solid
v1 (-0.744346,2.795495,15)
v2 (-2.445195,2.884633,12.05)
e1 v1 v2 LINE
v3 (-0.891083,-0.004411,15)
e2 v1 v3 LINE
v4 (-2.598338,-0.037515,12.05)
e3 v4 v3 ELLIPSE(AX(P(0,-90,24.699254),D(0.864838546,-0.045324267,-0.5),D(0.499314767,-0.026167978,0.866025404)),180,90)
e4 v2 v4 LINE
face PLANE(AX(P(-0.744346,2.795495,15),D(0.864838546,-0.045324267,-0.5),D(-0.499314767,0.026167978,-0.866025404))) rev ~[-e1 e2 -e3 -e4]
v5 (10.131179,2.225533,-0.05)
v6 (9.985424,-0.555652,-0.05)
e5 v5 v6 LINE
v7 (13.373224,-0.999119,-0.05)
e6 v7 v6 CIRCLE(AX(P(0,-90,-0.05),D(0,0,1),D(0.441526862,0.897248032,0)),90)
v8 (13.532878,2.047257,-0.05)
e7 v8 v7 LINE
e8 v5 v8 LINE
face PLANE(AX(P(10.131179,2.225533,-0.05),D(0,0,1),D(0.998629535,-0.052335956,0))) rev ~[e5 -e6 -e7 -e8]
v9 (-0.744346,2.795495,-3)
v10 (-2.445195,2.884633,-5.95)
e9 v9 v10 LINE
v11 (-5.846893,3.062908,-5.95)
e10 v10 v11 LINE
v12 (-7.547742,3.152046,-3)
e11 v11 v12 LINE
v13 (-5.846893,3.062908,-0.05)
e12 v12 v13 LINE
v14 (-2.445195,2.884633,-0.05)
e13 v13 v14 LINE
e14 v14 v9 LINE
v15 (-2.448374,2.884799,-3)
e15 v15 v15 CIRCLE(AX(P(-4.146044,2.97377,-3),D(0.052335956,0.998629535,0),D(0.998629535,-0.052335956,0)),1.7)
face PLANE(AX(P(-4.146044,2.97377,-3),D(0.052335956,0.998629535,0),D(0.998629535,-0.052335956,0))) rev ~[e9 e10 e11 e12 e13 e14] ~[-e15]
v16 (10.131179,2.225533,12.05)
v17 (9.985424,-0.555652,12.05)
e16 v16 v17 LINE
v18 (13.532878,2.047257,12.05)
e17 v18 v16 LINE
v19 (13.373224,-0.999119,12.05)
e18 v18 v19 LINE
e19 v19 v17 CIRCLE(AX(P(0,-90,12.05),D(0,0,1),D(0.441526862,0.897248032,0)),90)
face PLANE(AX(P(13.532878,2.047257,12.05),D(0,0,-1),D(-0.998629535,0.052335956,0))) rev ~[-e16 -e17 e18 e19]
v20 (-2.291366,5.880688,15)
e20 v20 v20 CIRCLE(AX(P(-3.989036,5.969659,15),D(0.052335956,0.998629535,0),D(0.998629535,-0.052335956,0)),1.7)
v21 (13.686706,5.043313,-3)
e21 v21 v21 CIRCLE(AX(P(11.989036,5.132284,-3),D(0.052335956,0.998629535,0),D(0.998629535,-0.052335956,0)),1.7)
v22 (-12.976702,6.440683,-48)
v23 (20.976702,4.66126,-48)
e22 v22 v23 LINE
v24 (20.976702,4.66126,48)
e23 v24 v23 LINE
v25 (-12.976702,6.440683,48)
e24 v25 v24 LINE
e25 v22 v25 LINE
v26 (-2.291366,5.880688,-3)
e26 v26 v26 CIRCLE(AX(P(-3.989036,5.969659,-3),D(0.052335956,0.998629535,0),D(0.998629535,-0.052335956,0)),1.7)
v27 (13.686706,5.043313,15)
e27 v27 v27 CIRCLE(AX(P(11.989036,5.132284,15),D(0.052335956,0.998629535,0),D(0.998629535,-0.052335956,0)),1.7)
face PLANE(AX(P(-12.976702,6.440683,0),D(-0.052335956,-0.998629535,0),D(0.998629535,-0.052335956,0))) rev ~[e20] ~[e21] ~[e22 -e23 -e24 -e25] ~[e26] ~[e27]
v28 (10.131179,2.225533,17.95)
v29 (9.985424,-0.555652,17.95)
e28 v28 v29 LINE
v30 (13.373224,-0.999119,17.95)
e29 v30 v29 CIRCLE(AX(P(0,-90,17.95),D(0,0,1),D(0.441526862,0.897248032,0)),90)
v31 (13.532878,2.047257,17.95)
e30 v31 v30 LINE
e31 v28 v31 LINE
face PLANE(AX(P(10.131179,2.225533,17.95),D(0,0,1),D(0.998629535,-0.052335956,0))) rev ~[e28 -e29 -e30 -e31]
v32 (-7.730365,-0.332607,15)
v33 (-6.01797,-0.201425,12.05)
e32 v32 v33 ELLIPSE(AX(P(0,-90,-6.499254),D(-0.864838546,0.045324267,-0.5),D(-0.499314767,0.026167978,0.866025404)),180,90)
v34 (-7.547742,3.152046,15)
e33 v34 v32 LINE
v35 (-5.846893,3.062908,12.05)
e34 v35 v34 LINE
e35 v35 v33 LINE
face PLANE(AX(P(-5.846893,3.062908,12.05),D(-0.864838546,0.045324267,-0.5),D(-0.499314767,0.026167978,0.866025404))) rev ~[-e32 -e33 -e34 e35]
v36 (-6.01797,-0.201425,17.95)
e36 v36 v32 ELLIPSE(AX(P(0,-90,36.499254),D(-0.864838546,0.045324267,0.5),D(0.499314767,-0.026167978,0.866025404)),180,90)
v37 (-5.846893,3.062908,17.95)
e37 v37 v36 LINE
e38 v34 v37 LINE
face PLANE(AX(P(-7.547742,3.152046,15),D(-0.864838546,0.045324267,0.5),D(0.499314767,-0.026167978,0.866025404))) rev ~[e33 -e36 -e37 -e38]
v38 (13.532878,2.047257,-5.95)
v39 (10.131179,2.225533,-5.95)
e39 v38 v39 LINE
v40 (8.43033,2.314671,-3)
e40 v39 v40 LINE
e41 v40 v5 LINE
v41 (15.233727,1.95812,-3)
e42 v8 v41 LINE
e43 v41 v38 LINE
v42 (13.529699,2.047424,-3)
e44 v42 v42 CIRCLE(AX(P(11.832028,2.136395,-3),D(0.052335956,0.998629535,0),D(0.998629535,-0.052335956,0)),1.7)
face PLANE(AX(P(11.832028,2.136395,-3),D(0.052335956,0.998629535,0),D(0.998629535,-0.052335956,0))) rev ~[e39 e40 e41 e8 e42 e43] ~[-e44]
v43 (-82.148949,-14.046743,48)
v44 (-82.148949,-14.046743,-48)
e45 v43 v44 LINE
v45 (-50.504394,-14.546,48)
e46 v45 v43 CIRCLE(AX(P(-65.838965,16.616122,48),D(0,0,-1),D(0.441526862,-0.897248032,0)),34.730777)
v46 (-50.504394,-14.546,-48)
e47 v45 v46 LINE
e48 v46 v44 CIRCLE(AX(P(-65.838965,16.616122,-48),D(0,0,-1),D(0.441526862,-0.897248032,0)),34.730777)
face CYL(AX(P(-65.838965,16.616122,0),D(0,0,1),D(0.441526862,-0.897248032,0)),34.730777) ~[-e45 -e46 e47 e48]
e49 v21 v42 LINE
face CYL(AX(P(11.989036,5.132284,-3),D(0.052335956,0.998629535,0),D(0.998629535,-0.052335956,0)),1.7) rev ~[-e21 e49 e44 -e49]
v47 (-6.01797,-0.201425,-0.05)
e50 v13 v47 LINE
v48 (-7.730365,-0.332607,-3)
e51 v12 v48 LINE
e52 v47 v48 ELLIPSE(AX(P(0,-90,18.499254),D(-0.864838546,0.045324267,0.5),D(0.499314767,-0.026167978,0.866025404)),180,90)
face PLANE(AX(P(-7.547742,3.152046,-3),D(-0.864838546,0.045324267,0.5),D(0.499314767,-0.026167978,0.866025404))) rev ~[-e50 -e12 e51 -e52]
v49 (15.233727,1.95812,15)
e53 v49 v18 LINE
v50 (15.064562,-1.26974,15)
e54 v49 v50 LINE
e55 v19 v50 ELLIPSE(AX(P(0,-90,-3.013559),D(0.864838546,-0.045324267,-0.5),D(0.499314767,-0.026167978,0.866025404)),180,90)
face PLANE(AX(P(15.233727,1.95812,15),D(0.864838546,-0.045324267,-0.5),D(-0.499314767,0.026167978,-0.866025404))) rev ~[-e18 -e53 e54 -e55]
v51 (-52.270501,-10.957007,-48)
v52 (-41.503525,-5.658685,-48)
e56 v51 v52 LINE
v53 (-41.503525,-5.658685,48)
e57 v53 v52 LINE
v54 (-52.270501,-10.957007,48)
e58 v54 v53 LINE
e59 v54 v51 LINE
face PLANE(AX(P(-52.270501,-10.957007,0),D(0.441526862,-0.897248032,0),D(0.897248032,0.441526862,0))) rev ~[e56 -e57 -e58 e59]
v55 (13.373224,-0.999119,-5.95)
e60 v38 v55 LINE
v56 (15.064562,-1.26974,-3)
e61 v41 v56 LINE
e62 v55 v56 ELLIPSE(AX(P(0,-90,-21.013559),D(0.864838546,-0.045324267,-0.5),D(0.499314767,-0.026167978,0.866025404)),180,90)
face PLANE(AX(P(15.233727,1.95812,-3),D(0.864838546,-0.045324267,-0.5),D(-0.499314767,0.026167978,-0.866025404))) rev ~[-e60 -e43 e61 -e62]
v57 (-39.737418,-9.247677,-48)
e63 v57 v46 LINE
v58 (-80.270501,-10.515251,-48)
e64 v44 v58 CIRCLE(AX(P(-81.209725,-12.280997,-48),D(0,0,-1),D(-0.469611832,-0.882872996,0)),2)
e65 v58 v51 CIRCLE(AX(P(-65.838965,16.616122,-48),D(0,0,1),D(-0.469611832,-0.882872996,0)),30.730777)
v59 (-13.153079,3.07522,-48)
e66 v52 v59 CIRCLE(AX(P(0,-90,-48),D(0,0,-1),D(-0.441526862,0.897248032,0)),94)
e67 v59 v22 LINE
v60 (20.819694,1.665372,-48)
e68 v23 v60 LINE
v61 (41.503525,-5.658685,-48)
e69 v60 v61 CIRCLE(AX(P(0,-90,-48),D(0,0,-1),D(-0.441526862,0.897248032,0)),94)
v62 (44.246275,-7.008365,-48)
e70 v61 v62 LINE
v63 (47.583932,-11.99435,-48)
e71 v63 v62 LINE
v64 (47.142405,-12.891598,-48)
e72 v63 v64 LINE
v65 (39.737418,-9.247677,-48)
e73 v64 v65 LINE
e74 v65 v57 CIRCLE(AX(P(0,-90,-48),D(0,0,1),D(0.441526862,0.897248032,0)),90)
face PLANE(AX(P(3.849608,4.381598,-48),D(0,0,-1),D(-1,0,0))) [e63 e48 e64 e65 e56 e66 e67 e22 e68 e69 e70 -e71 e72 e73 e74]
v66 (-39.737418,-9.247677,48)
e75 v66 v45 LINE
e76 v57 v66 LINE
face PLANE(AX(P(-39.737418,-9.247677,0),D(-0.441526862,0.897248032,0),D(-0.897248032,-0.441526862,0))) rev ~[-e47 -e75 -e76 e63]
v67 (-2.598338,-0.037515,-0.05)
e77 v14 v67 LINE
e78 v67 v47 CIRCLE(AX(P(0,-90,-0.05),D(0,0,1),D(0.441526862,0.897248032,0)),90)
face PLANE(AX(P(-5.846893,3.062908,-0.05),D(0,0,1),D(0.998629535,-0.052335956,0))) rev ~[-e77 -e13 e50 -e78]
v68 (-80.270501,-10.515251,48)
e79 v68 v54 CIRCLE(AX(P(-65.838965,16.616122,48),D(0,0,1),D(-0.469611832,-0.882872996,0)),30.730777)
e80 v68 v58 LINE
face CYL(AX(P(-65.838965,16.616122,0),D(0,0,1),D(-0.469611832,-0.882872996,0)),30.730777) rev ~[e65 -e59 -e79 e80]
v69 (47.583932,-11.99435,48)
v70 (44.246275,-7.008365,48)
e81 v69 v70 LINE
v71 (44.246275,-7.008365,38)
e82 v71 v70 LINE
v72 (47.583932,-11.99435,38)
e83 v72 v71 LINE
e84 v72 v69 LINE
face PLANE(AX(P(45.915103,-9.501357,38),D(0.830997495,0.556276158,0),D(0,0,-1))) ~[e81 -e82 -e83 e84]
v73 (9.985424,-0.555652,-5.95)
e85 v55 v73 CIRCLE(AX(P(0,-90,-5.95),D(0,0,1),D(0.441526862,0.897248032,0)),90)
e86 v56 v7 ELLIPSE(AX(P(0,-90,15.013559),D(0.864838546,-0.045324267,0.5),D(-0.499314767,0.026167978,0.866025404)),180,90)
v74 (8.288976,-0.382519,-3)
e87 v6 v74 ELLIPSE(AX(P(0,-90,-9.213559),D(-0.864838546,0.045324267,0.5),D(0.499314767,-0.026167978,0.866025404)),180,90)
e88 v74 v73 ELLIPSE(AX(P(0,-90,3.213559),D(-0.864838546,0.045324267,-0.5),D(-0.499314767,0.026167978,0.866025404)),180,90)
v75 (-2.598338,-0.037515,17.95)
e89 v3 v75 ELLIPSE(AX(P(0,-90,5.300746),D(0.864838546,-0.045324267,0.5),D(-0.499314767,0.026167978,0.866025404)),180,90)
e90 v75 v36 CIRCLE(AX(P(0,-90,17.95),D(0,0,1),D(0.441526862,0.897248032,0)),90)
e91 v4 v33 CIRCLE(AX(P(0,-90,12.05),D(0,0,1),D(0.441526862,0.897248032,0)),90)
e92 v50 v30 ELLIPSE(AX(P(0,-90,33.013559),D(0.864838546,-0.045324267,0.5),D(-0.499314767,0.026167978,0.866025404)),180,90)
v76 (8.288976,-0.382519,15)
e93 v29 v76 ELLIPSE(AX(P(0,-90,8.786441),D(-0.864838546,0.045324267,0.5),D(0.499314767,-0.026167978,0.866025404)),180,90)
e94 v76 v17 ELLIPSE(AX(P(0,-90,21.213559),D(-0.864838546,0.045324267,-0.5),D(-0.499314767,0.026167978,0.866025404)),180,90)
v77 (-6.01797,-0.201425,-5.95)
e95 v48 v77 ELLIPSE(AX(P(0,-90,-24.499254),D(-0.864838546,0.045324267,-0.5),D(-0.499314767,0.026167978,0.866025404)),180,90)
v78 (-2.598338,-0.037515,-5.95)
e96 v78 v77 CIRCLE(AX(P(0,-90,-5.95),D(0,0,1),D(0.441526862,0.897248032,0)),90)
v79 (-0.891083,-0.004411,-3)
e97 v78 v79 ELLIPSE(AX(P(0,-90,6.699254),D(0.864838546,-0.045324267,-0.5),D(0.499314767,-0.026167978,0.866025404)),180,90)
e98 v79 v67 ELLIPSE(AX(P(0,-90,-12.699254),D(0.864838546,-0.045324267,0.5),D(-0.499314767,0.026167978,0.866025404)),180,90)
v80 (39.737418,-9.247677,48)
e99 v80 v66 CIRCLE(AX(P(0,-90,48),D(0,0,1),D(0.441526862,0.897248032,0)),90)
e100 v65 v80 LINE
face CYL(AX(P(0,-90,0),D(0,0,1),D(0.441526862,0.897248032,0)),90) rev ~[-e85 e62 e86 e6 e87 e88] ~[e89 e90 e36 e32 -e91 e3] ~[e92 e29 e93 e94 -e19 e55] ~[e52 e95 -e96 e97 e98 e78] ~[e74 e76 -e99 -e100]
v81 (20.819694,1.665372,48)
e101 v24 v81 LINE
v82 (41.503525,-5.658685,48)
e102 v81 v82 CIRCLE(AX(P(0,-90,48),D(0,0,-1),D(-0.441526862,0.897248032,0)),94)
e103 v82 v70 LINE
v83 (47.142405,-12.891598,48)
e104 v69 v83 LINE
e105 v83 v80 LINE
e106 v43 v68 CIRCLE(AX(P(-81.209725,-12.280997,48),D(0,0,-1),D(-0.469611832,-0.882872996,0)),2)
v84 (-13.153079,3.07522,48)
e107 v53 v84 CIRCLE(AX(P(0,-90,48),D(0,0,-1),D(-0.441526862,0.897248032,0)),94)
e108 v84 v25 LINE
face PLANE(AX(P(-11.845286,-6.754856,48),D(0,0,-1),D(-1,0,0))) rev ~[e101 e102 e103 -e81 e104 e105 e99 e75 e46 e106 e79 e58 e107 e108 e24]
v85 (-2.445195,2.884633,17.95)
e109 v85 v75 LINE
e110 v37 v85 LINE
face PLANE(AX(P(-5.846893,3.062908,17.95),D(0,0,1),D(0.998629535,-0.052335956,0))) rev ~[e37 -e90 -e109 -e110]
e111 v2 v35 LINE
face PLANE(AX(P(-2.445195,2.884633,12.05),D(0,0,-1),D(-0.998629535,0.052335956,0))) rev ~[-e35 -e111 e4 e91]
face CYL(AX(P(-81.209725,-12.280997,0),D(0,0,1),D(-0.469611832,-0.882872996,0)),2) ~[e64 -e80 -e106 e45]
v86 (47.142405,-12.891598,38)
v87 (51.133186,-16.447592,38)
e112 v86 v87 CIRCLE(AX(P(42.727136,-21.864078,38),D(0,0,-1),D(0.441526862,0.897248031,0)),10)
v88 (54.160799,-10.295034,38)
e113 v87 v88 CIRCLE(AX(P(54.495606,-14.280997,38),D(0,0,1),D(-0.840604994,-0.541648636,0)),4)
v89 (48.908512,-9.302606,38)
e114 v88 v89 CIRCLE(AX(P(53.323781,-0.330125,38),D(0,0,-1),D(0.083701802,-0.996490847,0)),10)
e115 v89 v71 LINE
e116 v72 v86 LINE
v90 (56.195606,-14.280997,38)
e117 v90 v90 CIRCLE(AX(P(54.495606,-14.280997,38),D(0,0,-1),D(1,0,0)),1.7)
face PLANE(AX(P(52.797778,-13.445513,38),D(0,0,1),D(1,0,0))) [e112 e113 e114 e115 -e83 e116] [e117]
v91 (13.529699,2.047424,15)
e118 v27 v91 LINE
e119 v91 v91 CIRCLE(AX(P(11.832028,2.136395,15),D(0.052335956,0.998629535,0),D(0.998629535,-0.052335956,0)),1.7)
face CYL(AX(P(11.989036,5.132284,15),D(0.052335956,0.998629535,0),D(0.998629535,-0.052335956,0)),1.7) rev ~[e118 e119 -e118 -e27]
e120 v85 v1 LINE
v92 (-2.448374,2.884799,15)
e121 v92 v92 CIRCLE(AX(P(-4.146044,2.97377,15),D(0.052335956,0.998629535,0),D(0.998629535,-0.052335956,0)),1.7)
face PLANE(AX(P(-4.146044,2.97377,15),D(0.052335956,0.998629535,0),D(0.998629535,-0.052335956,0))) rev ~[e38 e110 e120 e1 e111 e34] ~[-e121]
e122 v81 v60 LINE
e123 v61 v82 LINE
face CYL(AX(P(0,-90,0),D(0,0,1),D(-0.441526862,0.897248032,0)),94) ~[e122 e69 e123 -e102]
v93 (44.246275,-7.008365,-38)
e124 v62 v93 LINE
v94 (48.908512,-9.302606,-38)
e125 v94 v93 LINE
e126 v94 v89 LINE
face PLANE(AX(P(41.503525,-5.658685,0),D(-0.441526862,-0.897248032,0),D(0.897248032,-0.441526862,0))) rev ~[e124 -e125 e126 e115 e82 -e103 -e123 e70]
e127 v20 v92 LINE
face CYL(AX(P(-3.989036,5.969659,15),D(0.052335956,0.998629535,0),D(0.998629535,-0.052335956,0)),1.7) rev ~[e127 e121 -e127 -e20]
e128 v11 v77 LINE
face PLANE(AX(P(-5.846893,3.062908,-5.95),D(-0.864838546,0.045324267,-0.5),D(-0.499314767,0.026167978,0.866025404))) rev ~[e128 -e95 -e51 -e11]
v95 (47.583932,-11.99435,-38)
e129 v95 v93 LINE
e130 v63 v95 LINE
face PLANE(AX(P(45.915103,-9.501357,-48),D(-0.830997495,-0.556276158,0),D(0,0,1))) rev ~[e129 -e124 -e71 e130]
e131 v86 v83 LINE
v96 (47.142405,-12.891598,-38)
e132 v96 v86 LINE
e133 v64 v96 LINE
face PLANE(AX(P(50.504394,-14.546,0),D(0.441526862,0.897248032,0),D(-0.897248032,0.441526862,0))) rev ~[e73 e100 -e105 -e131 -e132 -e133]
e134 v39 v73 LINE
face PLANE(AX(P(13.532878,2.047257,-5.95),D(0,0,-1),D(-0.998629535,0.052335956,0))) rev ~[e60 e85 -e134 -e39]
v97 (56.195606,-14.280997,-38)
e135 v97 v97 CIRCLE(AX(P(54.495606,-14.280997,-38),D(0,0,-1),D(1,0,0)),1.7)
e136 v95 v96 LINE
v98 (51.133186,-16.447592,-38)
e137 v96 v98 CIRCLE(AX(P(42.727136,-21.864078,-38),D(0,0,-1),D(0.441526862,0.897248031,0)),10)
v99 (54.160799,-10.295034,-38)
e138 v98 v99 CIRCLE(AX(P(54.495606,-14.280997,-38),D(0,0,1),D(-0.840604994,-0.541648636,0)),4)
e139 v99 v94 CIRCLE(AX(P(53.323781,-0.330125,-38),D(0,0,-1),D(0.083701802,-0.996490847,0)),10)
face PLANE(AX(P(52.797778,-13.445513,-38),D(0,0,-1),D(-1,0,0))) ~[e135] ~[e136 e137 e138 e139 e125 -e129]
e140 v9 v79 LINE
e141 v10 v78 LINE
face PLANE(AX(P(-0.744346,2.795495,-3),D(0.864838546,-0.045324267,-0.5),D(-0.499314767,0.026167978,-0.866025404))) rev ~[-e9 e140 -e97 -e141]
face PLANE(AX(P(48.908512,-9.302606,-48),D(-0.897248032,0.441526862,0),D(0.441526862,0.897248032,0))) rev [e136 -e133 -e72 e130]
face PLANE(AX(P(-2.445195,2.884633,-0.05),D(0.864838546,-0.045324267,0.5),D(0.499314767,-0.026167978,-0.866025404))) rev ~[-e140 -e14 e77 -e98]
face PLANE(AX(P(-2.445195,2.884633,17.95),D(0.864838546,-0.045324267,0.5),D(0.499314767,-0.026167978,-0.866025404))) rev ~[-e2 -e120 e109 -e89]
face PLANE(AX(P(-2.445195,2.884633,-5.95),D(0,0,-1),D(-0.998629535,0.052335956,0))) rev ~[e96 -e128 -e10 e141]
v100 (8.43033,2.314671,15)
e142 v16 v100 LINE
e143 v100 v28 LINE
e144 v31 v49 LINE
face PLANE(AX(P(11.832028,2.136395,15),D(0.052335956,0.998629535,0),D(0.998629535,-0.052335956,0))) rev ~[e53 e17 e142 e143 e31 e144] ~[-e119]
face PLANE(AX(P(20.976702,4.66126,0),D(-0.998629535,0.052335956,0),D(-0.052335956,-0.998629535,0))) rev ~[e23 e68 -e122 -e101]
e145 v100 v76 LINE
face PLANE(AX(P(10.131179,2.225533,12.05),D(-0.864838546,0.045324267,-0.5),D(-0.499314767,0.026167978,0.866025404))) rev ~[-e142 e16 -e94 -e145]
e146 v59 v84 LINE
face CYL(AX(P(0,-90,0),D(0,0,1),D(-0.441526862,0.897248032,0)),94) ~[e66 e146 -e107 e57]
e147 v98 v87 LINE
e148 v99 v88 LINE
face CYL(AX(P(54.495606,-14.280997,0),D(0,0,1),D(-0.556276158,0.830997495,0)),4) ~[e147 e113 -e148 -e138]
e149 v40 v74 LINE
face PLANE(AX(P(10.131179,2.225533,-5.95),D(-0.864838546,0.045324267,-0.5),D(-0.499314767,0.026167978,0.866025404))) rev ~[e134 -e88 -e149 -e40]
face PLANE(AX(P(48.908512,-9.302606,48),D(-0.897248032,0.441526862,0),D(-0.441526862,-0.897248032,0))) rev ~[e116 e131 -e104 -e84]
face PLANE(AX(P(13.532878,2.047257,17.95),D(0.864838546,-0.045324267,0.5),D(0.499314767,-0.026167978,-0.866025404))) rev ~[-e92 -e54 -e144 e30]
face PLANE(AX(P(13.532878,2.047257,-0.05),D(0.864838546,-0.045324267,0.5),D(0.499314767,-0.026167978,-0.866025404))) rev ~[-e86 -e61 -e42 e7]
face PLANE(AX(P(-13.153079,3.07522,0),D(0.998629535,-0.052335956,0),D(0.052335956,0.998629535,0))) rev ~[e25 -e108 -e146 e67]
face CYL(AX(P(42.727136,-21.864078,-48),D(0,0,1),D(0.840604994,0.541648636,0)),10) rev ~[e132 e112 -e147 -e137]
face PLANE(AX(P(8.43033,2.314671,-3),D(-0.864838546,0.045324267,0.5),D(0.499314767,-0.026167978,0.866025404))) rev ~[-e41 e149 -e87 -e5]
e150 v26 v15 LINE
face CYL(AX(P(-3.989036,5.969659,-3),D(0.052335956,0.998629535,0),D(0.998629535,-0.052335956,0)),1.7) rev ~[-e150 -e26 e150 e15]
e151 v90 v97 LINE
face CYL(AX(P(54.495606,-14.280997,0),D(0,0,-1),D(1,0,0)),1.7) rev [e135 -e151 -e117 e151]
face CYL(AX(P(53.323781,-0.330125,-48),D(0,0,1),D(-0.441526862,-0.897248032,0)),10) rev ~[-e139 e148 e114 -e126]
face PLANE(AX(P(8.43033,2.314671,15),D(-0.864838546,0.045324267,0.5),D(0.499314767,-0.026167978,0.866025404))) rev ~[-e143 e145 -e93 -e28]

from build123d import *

# Parameters (mm, degrees)
CROQUIS1_R                   = 1.7
SALIENTE_EXTRUIR1_DEPTH      = 48
REDONDEO1_R                  = 10
CORTAR_EXTRUIR1_DEPTH        = 10
CHAFL_N1_SIZE                = 3
CHAFL_N1_SIZE2               = 5.196152423
CHAFL_N1_PART_2_SIZE         = 3
CHAFL_N1_PART_2_SIZE2        = 5.196152423
SALIENTE_EXTRUIR2_DEPTH      = 48
SALIENTE_EXTRUIR2_DEPTH_BACK = 48
CORTAR_EXTRUIR3_REACH        = 30.364
CROQUIS6_R                   = 1.7
CORTAR_EXTRUIR4_REACH        = 27.364


with BuildPart() as part:
    # Croquis1 → Saliente-Extruir1 (new body, symmetric)
    with BuildSketch(Plane.XY):
        with BuildLine():
            Line((-39.737417582, -9.247677161), (-50.50439396, -14.545999505))
            ThreePointArc((-50.50439396, -14.545999505), (-66.386844231, -18.110333527), (-82.148948738, -14.04674335))
            ThreePointArc((-82.148948738, -14.04674335), (-82.975471065, -11.341773693), (-80.270501408, -10.515251366))
            ThreePointArc((-80.270501408, -10.515251366), (-66.323744082, -14.110831262), (-52.270501408, -10.957007379))
            Line((-52.270501408, -10.957007379), (-41.50352503, -5.658685035))
            ThreePointArc((-41.50352503, -5.658685035), (0, 4), (41.50352503, -5.658685035))
            Line((41.50352503, -5.658685035), (52.270501408, -10.957007379))
            ThreePointArc((52.270501408, -10.957007379), (58.084598166, -16.047104806), (50.50439396, -14.545999505))
            Line((50.50439396, -14.545999505), (39.737417582, -9.247677161))
            ThreePointArc((39.737417582, -9.247677161), (0, 0), (-39.737417582, -9.247677161))
        make_face()
        with Locations((54.49560604, -14.280997358)):
            Circle(CROQUIS1_R, mode=Mode.SUBTRACT)
    extrude(amount=SALIENTE_EXTRUIR1_DEPTH, both=True)

    # Redondeo1
    redondeo1_edges = [part.edges().sort_by_distance(p)[0] for p in [
        (52.270501408, -10.957007379, 0),
        (50.50439396, -14.545999505, 0),
    ]]
    fillet(redondeo1_edges, radius=REDONDEO1_R)

    # Croquis3 → Cortar-Extruir1 (cut)
    with BuildSketch(Plane.XY.offset(48)):
        with BuildLine():
            Line((48.908512195, -9.302605814), (47.142404747, -12.89159794))
            ThreePointArc((47.142404747, -12.89159794), (49.37979166, -14.398010057), (51.133186064, -16.4475919))
            ThreePointArc((51.133186064, -16.4475919), (58.084598166, -16.047104806), (54.160798833, -10.295033969))
            ThreePointArc((54.160798833, -10.295033969), (51.467117745, -10.156254046), (48.908512195, -9.302605814))
        make_face()
    cortar_extruir1 = extrude(amount=-CORTAR_EXTRUIR1_DEPTH, mode=Mode.SUBTRACT)

    # Simetría1: Cortar-Extruir1 across plane
    add(cortar_extruir1.mirror(Plane.XY), mode=Mode.SUBTRACT)

    # Chaflán1
    chafl_n1_edges = [part.edges().sort_by_distance(p)[0] for p in [
        (48.908512195, -9.302605814, 43),
    ]]
    chafl_n1_side = [part.faces().sort_by_distance(p)[0] for p in [
        (48.025458471, -11.097101877, 43),
    ]]
    chamfer(chafl_n1_edges, length=CHAFL_N1_SIZE, length2=CHAFL_N1_SIZE2, reference=chafl_n1_side[0])

    # Chaflán1 part 2
    chafl_n1_part_2_edges = [part.edges().sort_by_distance(p)[0] for p in [
        (48.908512195, -9.302605814, -43),
    ]]
    chafl_n1_part_2_side = [part.faces().sort_by_distance(p)[0] for p in [
        (48.025458471, -11.097101877, -43),
    ]]
    chamfer(chafl_n1_part_2_edges, length=CHAFL_N1_PART_2_SIZE, length2=CHAFL_N1_PART_2_SIZE2, reference=chafl_n1_part_2_side[0])

    # Croquis5 → Saliente-Extruir2 (add, two sides)
    with BuildSketch(Plane.XY) as saliente_extruir2_sk:
        with BuildLine():
            Line((-12.976702091, 6.440682618), (20.976702091, 4.661260106))
            Line((20.976702091, 4.661260106), (20.819694222, 1.665371501))
            ThreePointArc((20.819694222, 1.665371501), (3.897584771, 3.91916116), (-13.153078528, 3.075219716))
            Line((-13.153078528, 3.075219716), (-12.976702091, 6.440682618))
        make_face()
    extrude(amount=SALIENTE_EXTRUIR2_DEPTH)
    extrude(saliente_extruir2_sk.sketch, amount=-SALIENTE_EXTRUIR2_DEPTH_BACK)

    # Croquis6 → Cortar-Extruir3 (cut, up to next)
    with BuildSketch(Plane(origin=(0.301073462, 5.744823887, 0), x_dir=(0.998629535, -0.052335956, 0), z_dir=(0.052335956, 0.998629535, 0)), mode=Mode.PRIVATE) as cortar_extruir3_sk1:
        with Locations((-4.295997255, 3)):
            Circle(CROQUIS6_R)
    cortar_extruir3_tool1 = extrude(cortar_extruir3_sk1.sketch, amount=-CORTAR_EXTRUIR3_REACH, mode=Mode.PRIVATE) & part.part
    add(cortar_extruir3_tool1.solids().sort_by_distance((-3.989036, 5.969659, -3))[0], mode=Mode.SUBTRACT)
    # Croquis6 → Cortar-Extruir3 (cut, up to next)
    with BuildSketch(Plane(origin=(0.301073462, 5.744823887, 0), x_dir=(0.998629535, -0.052335956, 0), z_dir=(0.052335956, 0.998629535, 0)), mode=Mode.PRIVATE) as cortar_extruir3_sk2:
        with Locations((11.704002745, 3)):
            Circle(CROQUIS6_R)
    cortar_extruir3_tool2 = extrude(cortar_extruir3_sk2.sketch, amount=-CORTAR_EXTRUIR3_REACH, mode=Mode.PRIVATE) & part.part
    add(cortar_extruir3_tool2.solids().sort_by_distance((11.989036, 5.132284, -3))[0], mode=Mode.SUBTRACT)
    # Croquis6 → Cortar-Extruir3 (cut, up to next)
    with BuildSketch(Plane(origin=(0.301073462, 5.744823887, 0), x_dir=(0.998629535, -0.052335956, 0), z_dir=(0.052335956, 0.998629535, 0)), mode=Mode.PRIVATE) as cortar_extruir3_sk3:
        with Locations((11.704002745, -15)):
            Circle(CROQUIS6_R)
    cortar_extruir3_tool3 = extrude(cortar_extruir3_sk3.sketch, amount=-CORTAR_EXTRUIR3_REACH, mode=Mode.PRIVATE) & part.part
    add(cortar_extruir3_tool3.solids().sort_by_distance((11.989036, 5.132284, 15))[0], mode=Mode.SUBTRACT)
    # Croquis6 → Cortar-Extruir3 (cut, up to next)
    with BuildSketch(Plane(origin=(0.301073462, 5.744823887, 0), x_dir=(0.998629535, -0.052335956, 0), z_dir=(0.052335956, 0.998629535, 0)), mode=Mode.PRIVATE) as cortar_extruir3_sk4:
        with Locations((-4.295997255, -15)):
            Circle(CROQUIS6_R)
    cortar_extruir3_tool4 = extrude(cortar_extruir3_sk4.sketch, amount=-CORTAR_EXTRUIR3_REACH, mode=Mode.PRIVATE) & part.part
    add(cortar_extruir3_tool4.solids().sort_by_distance((-3.989036, 5.969659, 15))[0], mode=Mode.SUBTRACT)

    # Croquis7 → Cortar-Extruir4 (cut, up to next)
    with BuildSketch(Plane(origin=(0.144065594, 2.748935283, 0), x_dir=(0.998629535, -0.052335956, 0), z_dir=(0.052335956, 0.998629535, 0)), mode=Mode.PRIVATE) as cortar_extruir4_sk1:
        Polygon((-0.889630667, 3), (-2.592813961, 5.95), (-5.999180549, 5.95), (-7.702363843, 3), (-5.999180549, 0.05), (-2.592813961, 0.05), align=None)
    cortar_extruir4_tool1 = extrude(cortar_extruir4_sk1.sketch, amount=-CORTAR_EXTRUIR4_REACH, mode=Mode.PRIVATE) & part.part
    add(cortar_extruir4_tool1.solids().sort_by_distance((-4.146044, 2.97377, -3))[0], mode=Mode.SUBTRACT)
    # Croquis7 → Cortar-Extruir4 (cut, up to next)
    with BuildSketch(Plane(origin=(0.144065594, 2.748935283, 0), x_dir=(0.998629535, -0.052335956, 0), z_dir=(0.052335956, 0.998629535, 0)), mode=Mode.PRIVATE) as cortar_extruir4_sk2:
        Polygon((15.110369333, 3), (13.407186039, 5.95), (10.000819451, 5.95), (8.297636157, 3), (10.000819451, 0.05), (13.407186039, 0.05), align=None)
    cortar_extruir4_tool2 = extrude(cortar_extruir4_sk2.sketch, amount=-CORTAR_EXTRUIR4_REACH, mode=Mode.PRIVATE) & part.part
    add(cortar_extruir4_tool2.solids().sort_by_distance((11.832028, 2.136395, -3))[0], mode=Mode.SUBTRACT)
    # Croquis7 → Cortar-Extruir4 (cut, up to next)
    with BuildSketch(Plane(origin=(0.144065594, 2.748935283, 0), x_dir=(0.998629535, -0.052335956, 0), z_dir=(0.052335956, 0.998629535, 0)), mode=Mode.PRIVATE) as cortar_extruir4_sk3:
        Polygon((-0.889630667, -15), (-2.592813961, -12.05), (-5.999180549, -12.05), (-7.702363843, -15), (-5.999180549, -17.95), (-2.592813961, -17.95), align=None)
    cortar_extruir4_tool3 = extrude(cortar_extruir4_sk3.sketch, amount=-CORTAR_EXTRUIR4_REACH, mode=Mode.PRIVATE) & part.part
    add(cortar_extruir4_tool3.solids().sort_by_distance((-4.146044, 2.97377, 15))[0], mode=Mode.SUBTRACT)
    # Croquis7 → Cortar-Extruir4 (cut, up to next)
    with BuildSketch(Plane(origin=(0.144065594, 2.748935283, 0), x_dir=(0.998629535, -0.052335956, 0), z_dir=(0.052335956, 0.998629535, 0)), mode=Mode.PRIVATE) as cortar_extruir4_sk4:
        Polygon((15.110369333, -15), (13.407186039, -12.05), (10.000819451, -12.05), (8.297636157, -15), (10.000819451, -17.95), (13.407186039, -17.95), align=None)
    cortar_extruir4_tool4 = extrude(cortar_extruir4_sk4.sketch, amount=-CORTAR_EXTRUIR4_REACH, mode=Mode.PRIVATE) & part.part
    add(cortar_extruir4_tool4.solids().sort_by_distance((11.832028, 2.136395, 15))[0], mode=Mode.SUBTRACT)


solid = part.part
